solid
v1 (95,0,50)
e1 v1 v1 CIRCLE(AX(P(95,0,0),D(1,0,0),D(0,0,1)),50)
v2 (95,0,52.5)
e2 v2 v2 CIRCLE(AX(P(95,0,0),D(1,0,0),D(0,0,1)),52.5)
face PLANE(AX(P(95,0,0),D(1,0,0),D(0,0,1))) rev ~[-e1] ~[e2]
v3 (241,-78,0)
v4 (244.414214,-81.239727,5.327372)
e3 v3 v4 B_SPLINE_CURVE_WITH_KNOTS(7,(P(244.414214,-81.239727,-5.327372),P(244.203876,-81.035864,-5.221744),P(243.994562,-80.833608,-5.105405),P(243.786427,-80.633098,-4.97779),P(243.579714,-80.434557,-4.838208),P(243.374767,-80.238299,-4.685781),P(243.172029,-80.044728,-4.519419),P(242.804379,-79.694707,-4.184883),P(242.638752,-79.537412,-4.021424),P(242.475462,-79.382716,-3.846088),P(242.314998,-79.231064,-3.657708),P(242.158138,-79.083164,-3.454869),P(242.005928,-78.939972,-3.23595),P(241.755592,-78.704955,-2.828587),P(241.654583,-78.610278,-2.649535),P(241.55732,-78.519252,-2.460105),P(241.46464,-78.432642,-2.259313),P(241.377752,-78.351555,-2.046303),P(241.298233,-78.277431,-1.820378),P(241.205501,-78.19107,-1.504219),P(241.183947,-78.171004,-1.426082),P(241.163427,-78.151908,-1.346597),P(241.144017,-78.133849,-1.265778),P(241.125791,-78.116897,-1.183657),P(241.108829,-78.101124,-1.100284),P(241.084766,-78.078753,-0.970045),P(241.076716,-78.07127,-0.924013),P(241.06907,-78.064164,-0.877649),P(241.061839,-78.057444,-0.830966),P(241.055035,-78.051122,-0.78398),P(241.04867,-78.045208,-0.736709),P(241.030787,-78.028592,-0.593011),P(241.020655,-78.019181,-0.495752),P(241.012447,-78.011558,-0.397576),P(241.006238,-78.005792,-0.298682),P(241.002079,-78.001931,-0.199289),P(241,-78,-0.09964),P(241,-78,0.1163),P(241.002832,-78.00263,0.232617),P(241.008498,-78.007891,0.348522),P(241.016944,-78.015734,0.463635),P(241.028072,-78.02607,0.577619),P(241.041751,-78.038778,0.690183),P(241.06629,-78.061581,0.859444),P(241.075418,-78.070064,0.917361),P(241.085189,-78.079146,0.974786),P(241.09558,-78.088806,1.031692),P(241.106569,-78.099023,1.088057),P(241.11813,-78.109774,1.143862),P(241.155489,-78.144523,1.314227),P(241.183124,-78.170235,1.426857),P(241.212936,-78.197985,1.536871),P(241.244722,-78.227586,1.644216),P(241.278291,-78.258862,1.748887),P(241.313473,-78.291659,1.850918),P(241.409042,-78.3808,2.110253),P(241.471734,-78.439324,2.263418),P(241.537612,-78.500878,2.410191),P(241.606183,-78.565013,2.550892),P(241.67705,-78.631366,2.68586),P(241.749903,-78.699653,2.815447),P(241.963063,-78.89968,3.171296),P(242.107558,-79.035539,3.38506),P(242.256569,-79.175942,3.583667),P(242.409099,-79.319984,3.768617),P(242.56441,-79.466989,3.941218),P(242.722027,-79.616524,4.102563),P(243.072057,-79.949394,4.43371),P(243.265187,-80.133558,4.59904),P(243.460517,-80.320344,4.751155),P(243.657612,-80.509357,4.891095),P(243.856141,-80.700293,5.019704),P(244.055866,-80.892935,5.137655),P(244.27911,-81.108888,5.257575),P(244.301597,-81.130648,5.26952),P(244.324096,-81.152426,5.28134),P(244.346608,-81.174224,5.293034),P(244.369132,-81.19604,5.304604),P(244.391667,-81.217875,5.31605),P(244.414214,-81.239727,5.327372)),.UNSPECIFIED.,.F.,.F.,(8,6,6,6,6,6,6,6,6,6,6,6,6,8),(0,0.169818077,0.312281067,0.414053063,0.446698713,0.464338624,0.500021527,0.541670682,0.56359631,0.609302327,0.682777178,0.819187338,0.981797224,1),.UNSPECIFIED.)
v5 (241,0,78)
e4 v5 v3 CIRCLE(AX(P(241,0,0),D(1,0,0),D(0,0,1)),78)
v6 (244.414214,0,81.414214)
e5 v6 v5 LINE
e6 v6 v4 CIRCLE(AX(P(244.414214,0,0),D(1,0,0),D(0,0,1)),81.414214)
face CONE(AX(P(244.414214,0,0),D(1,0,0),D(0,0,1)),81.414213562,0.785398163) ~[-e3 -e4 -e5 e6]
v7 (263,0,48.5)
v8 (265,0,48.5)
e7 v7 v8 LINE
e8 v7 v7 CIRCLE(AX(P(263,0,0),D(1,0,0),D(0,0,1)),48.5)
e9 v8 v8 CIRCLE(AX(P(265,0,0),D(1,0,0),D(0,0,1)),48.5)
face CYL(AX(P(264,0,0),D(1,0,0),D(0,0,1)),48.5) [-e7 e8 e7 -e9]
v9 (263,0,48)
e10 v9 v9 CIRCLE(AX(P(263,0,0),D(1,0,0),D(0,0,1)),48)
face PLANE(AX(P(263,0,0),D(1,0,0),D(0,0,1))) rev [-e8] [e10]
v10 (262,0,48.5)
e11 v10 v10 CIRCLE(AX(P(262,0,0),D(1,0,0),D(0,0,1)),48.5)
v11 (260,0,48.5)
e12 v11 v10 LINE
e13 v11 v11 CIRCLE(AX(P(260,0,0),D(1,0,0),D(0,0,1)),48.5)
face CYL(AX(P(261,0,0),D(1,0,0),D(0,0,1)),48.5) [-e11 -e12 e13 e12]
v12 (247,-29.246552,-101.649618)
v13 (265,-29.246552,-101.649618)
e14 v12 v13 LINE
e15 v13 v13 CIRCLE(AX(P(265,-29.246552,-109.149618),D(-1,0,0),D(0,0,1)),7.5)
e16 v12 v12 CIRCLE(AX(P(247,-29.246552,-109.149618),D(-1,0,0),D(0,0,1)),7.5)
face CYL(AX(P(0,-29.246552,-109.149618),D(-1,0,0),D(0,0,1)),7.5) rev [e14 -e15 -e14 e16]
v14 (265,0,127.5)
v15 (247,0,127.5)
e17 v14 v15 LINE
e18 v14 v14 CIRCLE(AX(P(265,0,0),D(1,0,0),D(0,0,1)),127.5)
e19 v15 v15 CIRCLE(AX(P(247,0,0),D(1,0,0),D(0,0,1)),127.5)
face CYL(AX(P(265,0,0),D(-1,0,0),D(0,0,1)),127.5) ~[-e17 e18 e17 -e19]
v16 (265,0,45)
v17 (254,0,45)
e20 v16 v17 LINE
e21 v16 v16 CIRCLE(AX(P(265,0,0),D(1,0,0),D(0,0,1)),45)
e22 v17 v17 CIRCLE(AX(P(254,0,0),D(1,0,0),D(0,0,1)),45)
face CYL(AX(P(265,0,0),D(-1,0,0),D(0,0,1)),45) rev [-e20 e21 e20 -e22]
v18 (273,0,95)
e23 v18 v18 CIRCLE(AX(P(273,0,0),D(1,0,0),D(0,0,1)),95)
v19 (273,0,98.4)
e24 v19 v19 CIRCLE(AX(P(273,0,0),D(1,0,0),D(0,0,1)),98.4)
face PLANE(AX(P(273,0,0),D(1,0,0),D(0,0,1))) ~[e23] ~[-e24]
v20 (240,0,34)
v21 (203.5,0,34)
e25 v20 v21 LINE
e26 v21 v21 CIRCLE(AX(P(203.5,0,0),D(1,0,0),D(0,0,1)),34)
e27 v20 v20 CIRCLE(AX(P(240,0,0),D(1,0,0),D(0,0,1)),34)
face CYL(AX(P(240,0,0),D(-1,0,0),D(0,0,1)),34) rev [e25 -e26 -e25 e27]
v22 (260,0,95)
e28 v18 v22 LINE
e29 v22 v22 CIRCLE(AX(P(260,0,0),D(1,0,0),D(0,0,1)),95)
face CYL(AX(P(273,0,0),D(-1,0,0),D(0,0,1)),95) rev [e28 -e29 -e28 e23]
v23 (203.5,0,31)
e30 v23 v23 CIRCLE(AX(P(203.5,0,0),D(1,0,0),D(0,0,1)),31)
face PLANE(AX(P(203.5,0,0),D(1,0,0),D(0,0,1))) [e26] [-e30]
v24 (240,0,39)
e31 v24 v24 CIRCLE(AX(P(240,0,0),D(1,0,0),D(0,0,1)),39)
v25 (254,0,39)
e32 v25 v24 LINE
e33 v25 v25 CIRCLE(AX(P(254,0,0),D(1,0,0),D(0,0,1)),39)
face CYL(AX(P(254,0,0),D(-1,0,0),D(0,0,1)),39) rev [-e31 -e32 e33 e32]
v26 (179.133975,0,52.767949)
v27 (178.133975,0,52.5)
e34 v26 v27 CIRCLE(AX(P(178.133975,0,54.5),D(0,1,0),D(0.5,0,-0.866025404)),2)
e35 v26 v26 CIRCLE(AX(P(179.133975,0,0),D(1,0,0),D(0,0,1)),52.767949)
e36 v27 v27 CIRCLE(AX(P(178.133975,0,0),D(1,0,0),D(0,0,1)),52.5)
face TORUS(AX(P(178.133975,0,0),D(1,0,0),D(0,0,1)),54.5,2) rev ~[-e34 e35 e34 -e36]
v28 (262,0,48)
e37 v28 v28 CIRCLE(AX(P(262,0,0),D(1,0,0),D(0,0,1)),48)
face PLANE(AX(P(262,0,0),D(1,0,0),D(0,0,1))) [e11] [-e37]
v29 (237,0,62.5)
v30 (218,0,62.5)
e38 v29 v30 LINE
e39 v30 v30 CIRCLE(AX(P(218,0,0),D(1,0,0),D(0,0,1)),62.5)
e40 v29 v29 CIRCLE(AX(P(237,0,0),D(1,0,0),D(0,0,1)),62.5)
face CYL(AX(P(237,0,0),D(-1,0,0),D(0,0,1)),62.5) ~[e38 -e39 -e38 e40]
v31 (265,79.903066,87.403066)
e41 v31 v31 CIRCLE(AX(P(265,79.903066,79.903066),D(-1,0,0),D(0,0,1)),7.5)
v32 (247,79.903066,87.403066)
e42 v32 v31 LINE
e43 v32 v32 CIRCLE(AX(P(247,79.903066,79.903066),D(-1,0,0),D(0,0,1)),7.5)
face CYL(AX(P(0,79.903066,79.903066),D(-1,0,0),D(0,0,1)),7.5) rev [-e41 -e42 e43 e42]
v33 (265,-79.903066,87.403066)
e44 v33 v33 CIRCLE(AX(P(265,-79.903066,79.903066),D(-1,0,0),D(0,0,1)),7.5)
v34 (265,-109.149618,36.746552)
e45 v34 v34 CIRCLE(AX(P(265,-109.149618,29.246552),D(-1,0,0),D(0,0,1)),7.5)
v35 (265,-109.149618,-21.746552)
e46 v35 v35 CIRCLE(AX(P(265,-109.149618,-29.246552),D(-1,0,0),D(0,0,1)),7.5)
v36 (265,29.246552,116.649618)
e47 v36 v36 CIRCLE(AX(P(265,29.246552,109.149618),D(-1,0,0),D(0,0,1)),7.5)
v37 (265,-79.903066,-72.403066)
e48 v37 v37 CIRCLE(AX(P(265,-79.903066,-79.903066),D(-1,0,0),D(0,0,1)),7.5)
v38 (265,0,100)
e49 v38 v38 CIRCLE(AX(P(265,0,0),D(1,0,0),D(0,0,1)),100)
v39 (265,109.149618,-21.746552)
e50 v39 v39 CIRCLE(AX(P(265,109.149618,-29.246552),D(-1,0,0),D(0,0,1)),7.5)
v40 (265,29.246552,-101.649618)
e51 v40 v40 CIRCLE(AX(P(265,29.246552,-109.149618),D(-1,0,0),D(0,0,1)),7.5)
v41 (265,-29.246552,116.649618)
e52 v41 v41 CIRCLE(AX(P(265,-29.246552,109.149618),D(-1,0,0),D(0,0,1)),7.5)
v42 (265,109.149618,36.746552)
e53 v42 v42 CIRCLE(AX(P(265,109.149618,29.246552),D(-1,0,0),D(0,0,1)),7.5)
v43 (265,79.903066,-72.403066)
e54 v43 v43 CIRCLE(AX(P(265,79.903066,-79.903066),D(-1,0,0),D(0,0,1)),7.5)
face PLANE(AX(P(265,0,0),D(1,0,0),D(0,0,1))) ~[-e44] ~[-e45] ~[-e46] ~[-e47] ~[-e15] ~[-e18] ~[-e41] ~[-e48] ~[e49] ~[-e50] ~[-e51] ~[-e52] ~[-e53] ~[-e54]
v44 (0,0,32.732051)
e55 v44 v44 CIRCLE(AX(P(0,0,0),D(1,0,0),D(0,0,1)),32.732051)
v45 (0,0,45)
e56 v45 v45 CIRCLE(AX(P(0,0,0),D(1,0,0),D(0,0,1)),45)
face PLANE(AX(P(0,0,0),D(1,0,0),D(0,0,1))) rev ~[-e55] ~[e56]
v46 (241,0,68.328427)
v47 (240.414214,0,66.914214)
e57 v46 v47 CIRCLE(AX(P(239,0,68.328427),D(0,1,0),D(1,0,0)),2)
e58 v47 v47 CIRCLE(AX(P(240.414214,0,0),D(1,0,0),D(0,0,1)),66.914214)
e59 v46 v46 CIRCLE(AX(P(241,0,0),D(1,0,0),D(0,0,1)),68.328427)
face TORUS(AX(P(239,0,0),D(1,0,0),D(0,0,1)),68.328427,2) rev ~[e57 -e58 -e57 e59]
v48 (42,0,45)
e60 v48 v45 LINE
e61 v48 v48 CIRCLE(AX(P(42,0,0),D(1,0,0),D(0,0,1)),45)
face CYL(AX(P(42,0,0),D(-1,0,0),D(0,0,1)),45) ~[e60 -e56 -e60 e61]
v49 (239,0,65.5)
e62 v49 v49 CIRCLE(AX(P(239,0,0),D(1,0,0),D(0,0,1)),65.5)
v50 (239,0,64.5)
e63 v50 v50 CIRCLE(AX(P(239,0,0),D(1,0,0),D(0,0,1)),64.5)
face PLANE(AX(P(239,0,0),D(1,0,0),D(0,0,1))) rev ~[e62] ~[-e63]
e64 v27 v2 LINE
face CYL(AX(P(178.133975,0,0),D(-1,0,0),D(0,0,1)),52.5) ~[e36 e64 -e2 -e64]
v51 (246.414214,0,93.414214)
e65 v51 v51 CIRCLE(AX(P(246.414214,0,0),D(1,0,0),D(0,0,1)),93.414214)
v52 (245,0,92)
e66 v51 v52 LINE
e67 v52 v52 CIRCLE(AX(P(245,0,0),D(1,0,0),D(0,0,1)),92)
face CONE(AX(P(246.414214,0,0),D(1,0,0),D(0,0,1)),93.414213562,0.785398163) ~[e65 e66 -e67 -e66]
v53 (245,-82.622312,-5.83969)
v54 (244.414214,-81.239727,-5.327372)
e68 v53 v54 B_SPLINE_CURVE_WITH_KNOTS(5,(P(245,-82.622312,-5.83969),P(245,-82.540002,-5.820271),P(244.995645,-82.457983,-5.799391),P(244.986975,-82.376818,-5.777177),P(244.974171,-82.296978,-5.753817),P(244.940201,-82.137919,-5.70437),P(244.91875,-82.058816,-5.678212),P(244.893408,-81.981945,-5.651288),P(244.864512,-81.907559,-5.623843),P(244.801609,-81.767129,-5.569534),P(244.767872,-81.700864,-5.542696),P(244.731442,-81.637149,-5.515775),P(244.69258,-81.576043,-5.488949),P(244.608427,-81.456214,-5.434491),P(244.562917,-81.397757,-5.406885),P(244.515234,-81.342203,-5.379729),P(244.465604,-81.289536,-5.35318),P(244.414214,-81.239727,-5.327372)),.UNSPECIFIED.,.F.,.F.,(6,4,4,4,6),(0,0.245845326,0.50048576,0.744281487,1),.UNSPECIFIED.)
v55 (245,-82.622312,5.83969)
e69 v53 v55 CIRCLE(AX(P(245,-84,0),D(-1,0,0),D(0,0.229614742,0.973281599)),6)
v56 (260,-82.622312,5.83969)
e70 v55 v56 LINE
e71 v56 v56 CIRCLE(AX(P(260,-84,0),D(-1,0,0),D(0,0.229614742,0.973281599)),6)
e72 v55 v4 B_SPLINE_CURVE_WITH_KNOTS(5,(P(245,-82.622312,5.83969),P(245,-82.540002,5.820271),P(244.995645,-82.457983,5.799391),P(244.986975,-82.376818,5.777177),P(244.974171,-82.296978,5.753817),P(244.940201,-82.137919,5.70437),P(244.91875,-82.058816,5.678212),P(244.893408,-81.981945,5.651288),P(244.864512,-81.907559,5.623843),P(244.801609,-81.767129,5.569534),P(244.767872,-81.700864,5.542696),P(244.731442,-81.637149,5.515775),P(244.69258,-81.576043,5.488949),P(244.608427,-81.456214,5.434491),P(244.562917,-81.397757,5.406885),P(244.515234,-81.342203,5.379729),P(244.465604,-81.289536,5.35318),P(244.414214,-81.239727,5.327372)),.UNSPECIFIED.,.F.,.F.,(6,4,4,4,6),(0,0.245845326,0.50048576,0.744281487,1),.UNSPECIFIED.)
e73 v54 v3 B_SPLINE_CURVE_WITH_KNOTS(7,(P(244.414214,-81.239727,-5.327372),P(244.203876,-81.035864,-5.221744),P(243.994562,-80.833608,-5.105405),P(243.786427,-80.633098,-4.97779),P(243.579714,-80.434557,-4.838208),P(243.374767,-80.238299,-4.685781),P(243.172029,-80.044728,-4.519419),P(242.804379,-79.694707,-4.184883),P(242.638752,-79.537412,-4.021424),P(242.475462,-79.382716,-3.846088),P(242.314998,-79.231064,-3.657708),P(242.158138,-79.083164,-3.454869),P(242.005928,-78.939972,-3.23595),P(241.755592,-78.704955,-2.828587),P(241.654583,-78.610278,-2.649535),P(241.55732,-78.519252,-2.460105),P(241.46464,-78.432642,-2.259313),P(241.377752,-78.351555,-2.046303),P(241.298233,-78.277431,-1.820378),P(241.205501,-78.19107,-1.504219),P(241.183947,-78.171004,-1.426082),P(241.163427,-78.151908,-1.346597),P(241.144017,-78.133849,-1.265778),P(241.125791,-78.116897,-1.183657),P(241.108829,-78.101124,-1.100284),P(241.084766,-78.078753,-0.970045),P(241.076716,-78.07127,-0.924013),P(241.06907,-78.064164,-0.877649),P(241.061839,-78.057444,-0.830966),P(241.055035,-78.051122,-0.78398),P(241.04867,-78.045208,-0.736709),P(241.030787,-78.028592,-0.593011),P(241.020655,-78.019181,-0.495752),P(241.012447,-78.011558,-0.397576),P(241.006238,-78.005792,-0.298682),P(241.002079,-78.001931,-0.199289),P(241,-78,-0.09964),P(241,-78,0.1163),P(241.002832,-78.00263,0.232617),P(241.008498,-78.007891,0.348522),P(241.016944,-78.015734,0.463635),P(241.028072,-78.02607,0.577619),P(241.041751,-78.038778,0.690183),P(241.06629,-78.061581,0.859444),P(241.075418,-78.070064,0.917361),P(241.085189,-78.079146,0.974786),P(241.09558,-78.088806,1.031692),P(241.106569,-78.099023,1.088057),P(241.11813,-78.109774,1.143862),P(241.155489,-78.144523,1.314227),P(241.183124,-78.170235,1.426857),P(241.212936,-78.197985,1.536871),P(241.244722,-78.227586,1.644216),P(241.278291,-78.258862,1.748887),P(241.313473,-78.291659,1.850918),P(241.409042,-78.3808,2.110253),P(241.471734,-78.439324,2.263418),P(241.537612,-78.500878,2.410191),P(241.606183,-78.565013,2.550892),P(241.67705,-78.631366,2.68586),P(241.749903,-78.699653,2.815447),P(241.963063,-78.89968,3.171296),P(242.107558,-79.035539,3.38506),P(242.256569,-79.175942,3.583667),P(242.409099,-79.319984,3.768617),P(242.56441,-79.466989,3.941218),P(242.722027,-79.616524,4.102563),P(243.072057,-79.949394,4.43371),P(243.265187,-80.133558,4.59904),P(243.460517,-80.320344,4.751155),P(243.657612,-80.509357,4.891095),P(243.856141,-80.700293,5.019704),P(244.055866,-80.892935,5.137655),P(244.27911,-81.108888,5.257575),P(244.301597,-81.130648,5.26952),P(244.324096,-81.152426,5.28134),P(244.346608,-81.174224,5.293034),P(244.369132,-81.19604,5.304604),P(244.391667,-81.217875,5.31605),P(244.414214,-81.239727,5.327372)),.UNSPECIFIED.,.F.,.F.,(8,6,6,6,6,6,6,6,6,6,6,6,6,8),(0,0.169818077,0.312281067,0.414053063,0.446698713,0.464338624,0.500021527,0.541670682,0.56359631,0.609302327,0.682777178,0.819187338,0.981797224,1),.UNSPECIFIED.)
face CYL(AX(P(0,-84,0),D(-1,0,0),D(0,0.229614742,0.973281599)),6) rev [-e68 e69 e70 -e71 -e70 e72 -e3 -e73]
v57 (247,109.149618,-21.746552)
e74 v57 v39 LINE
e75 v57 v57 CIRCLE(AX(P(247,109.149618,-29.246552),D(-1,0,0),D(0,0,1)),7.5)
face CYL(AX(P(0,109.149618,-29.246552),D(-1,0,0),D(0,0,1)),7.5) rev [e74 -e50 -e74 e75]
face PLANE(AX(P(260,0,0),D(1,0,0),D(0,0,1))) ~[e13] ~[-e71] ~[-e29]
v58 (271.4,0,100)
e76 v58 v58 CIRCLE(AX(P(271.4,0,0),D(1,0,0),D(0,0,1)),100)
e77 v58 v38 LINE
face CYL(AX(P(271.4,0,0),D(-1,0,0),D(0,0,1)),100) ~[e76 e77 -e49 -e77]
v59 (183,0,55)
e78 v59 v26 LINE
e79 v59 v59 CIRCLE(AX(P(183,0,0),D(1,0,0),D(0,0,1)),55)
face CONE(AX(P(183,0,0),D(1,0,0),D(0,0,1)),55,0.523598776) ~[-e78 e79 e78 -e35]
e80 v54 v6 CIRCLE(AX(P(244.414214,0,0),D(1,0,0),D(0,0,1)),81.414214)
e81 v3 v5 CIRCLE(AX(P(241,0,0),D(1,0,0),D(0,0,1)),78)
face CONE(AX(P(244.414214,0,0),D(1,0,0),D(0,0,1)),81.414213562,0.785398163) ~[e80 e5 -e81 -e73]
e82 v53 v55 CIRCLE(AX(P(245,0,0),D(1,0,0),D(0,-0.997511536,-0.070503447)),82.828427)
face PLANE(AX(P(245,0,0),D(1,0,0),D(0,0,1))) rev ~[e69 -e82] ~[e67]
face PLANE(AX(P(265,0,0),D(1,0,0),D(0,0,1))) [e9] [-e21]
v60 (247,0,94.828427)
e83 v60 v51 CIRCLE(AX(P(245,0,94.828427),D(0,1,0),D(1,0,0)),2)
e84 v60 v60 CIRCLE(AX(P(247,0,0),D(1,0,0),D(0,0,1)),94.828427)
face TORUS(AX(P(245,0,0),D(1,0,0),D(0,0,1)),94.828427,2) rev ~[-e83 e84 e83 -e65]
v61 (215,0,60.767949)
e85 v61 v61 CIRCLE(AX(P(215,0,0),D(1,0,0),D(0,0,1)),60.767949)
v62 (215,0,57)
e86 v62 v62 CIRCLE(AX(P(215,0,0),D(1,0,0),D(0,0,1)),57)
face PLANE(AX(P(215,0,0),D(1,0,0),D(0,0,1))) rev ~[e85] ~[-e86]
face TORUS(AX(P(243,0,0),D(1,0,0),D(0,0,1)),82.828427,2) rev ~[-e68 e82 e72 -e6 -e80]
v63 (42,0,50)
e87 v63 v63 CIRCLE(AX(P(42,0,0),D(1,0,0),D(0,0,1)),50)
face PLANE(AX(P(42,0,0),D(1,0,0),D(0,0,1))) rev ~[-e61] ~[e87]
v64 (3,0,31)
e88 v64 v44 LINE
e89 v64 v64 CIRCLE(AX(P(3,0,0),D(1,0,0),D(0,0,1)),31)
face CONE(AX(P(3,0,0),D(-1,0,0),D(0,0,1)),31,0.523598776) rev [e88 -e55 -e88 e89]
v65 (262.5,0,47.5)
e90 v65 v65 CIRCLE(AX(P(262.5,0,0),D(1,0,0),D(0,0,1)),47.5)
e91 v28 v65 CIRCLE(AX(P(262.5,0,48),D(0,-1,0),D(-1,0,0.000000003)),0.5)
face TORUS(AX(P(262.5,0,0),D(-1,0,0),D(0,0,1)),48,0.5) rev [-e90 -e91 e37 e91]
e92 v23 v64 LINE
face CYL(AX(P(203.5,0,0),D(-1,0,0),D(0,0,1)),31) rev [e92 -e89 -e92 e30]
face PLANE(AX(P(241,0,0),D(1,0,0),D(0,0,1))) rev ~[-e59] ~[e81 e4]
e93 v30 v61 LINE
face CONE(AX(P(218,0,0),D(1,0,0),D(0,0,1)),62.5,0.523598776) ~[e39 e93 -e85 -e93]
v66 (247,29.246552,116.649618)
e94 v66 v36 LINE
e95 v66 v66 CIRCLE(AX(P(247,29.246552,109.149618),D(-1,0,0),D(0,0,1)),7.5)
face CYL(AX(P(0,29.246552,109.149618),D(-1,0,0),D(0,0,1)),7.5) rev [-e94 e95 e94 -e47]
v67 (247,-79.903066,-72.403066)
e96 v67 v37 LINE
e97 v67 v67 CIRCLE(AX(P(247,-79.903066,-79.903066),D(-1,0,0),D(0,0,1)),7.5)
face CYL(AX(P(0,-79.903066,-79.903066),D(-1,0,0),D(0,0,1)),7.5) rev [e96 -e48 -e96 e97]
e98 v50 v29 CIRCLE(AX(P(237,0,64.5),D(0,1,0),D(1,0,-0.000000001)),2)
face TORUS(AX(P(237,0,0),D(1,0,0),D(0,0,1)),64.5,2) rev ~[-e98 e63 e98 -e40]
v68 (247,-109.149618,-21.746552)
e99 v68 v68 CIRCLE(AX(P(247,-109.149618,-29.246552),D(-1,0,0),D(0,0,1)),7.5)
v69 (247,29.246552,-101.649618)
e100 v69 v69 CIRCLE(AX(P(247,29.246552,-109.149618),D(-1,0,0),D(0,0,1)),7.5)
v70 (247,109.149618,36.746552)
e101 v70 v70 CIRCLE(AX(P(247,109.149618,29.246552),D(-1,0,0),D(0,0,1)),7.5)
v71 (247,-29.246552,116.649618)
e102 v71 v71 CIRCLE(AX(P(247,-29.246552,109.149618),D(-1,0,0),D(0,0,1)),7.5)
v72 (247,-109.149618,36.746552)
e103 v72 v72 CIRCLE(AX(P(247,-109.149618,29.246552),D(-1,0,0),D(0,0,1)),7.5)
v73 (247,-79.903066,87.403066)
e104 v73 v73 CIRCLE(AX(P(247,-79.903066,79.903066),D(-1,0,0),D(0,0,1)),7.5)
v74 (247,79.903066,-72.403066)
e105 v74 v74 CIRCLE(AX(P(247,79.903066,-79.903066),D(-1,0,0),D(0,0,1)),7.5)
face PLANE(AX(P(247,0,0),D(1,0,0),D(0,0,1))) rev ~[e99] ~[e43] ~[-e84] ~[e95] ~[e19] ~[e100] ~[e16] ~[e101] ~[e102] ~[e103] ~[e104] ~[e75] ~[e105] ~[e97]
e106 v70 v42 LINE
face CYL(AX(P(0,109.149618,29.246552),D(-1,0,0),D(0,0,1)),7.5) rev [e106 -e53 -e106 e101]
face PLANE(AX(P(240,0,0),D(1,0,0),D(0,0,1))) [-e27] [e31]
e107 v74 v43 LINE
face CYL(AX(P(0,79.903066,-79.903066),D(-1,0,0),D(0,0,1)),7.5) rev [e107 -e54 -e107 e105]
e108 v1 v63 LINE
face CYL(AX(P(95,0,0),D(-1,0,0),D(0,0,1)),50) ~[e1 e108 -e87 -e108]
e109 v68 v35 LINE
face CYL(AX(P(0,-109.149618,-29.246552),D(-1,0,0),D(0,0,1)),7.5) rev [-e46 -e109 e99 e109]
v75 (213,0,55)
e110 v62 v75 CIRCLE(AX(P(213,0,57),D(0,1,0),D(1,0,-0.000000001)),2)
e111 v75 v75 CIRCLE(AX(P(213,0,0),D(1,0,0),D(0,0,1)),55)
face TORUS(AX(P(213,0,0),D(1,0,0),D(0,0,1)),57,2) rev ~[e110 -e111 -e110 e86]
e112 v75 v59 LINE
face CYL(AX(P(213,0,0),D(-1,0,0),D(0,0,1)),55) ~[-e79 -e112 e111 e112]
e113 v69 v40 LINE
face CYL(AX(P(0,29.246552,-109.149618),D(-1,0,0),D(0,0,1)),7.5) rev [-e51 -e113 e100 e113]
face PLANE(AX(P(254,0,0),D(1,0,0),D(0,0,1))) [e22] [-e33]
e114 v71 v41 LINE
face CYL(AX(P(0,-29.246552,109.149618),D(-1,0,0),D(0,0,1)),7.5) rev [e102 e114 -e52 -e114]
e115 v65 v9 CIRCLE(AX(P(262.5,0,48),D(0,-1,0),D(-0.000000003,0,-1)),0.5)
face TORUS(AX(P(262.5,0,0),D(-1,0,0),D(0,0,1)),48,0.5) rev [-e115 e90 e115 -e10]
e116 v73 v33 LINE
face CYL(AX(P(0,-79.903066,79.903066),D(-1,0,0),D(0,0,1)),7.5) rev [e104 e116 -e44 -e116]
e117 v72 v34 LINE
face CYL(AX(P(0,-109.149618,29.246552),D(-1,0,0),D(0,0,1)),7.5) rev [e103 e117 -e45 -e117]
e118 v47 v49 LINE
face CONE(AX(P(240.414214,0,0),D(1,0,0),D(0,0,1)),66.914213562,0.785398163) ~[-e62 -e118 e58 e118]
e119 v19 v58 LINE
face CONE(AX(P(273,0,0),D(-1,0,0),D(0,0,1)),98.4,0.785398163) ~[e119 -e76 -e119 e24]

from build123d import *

# Parameters (mm, degrees)
SKETCH_3_W           = 2
SKETCH_3_H           = 46.5
SKETCH_5_W           = 2
SKETCH_5_H           = 46.5
SKETCH_6_R           = 7.5
CUT_EXTRUDE_1_DEPTH  = 328.171973127
SKETCH_7_R           = 7.5
CUT_EXTRUDE_2_DEPTH  = 328.171973127
SKETCH_8_R           = 7.5
CUT_EXTRUDE_3_DEPTH  = 328.171973127
SKETCH_9_R           = 7.5
CUT_EXTRUDE_4_DEPTH  = 328.171973127
SKETCH_10_R          = 7.5
CUT_EXTRUDE_5_DEPTH  = 328.171973127
SKETCH_11_R          = 7.5
CUT_EXTRUDE_6_DEPTH  = 328.171973127
SKETCH_12_R          = 7.5
CUT_EXTRUDE_7_DEPTH  = 328.171973127
SKETCH_13_R          = 7.5
CUT_EXTRUDE_8_DEPTH  = 328.171973127
SKETCH_14_R          = 7.5
CUT_EXTRUDE_9_DEPTH  = 328.171973127
SKETCH_15_R          = 7.5
CUT_EXTRUDE_10_DEPTH = 328.171973127
SKETCH_16_R          = 7.5
CUT_EXTRUDE_11_DEPTH = 328.171973127
SKETCH_17_R          = 7.5
CUT_EXTRUDE_12_DEPTH = 328.171973127
SKETCH_18_R          = 6
CUT_EXTRUDE_13_DEPTH = 328.171973127


with BuildPart() as part:
    # Эскиз1 → Повернуть1 (revolve)
    with BuildSketch(Plane.XY, mode=Mode.PRIVATE) as revolve_1_sk:
        with BuildLine():
            Line((0, 0), (273, 0))
            Line((273, 0), (273, 98.4))
            Line((273, 98.4), (271.4, 100))
            Line((271.4, 100), (265, 100))
            Line((265, 100), (265, 127.5))
            Line((265, 127.5), (247, 127.5))
            Line((247, 127.5), (247, 94.828427125))
            ThreePointArc((247, 94.828427125), (246.847759065, 94.06306026), (246.414213562, 93.414213562))
            Line((246.414213562, 93.414213562), (245, 92))
            Line((245, 92), (245, 82.828427125))
            ThreePointArc((245, 82.828427125), (244.847759065, 82.06306026), (244.414213562, 81.414213562))
            Line((244.414213562, 81.414213562), (241, 78))
            Line((241, 78), (241, 68.328427125))
            ThreePointArc((241, 68.328427125), (240.847759065, 67.56306026), (240.414213562, 66.914213562))
            Line((240.414213562, 66.914213562), (239, 65.5))
            Line((239, 65.5), (239, 64.5))
            ThreePointArc((239, 64.5), (238.414213562, 63.085786438), (237, 62.5))
            Line((237, 62.5), (218, 62.5))
            Line((218, 62.5), (215, 60.767949192))
            Line((215, 60.767949192), (215, 57))
            ThreePointArc((215, 57), (214.414213562, 55.585786438), (213, 55))
            Line((213, 55), (183, 55))
            Line((183, 55), (179.133974596, 52.767949192))
            ThreePointArc((179.133974596, 52.767949192), (178.651612686, 52.568148347), (178.133974596, 52.5))
            Line((178.133974596, 52.5), (95, 52.5))
            Line((95, 52.5), (95, 50))
            Line((95, 50), (42, 50))
            Line((42, 50), (42, 45))
            Line((42, 45), (0, 45))
            Line((0, 45), (0, 0))
        make_face()
    revolve(revolve_1_sk.sketch.rotate(Axis((0, 0, 0), (1, 0, 0)), 90), axis=Axis((0, 0, 0), (1, 0, 0)))

    # Эскиз2 → Вырез-Повернуть1 (revolve, cut)
    with BuildSketch(Plane.XY, mode=Mode.PRIVATE) as cut_revolve_1_sk:
        Polygon((0, 0), (273, 0), (273, 95), (265, 95), (265, 45), (254, 45), (254, 39), (240, 39), (240, 34), (203.5, 34), (203.5, 31), (3, 31), (0, 32.732050808), align=None)
    revolve(cut_revolve_1_sk.sketch.rotate(Axis((0, 0, 0), (1, 0, 0)), 90), axis=Axis((0, 0, 0), (1, 0, 0)), mode=Mode.SUBTRACT)

    # Эскиз3 → Rear_recess_left (revolve, cut)
    with BuildSketch(Plane.XY, mode=Mode.PRIVATE) as rear_recess_left_sk:
        with Locations((261, 71.75)):
            Rectangle(SKETCH_3_W, SKETCH_3_H)
    revolve(rear_recess_left_sk.sketch.rotate(Axis((0, 0, 0), (1, 0, 0)), 90), axis=Axis((0, 0, 0), (1, 0, 0)), mode=Mode.SUBTRACT)

    # Эскиз4 → Collar_groove_nominal (revolve, cut)
    with BuildSketch(Plane.XY, mode=Mode.PRIVATE) as collar_groove_nominal_sk:
        with BuildLine():
            Line((263, 48), (263, 95))
            Line((263, 95), (262, 95))
            Line((262, 95), (262, 48))
            ThreePointArc((262, 48), (262.146446609, 47.646446609), (262.5, 47.5))
            ThreePointArc((262.5, 47.5), (262.853553391, 47.646446609), (263, 48))
        make_face()
    revolve(collar_groove_nominal_sk.sketch.rotate(Axis((0, 0, 0), (1, 0, 0)), 90), axis=Axis((0, 0, 0), (1, 0, 0)), mode=Mode.SUBTRACT)

    # Эскиз5 → Rear_recess_lip (revolve, cut)
    with BuildSketch(Plane.XY, mode=Mode.PRIVATE) as rear_recess_lip_sk:
        with Locations((264, 71.75)):
            Rectangle(SKETCH_5_W, SKETCH_5_H)
    revolve(rear_recess_lip_sk.sketch.rotate(Axis((0, 0, 0), (1, 0, 0)), 90), axis=Axis((0, 0, 0), (1, 0, 0)), mode=Mode.SUBTRACT)

    # Эскиз6 → Вырез-Вытянуть1 (cut, through all)
    with BuildSketch(Plane(origin=(0, 0, 0), x_dir=(0, 0, -1), z_dir=(1, 0, 0))):
        with Locations(Location((109.149618371, 29.246552097, 0), (0, 0, 180))):
            Circle(SKETCH_6_R)
    extrude(amount=CUT_EXTRUDE_1_DEPTH, mode=Mode.SUBTRACT)

    # Эскиз7 → Вырез-Вытянуть2 (cut, through all)
    with BuildSketch(Plane(origin=(0, 0, 0), x_dir=(0, 0, -1), z_dir=(1, 0, 0))):
        with Locations(Location((79.903066274, 79.903066274, 0), (0, 0, 180))):
            Circle(SKETCH_7_R)
    extrude(amount=CUT_EXTRUDE_2_DEPTH, mode=Mode.SUBTRACT)

    # Эскиз8 → Вырез-Вытянуть3 (cut, through all)
    with BuildSketch(Plane(origin=(0, 0, 0), x_dir=(0, 0, -1), z_dir=(1, 0, 0))):
        with Locations(Location((29.246552097, 109.149618371, 0), (0, 0, 180))):
            Circle(SKETCH_8_R)
    extrude(amount=CUT_EXTRUDE_3_DEPTH, mode=Mode.SUBTRACT)

    # Эскиз9 → Вырез-Вытянуть4 (cut, through all)
    with BuildSketch(Plane(origin=(0, 0, 0), x_dir=(0, 0, -1), z_dir=(1, 0, 0))):
        with Locations(Location((-29.246552097, 109.149618371, 0), (0, 0, 180))):
            Circle(SKETCH_9_R)
    extrude(amount=CUT_EXTRUDE_4_DEPTH, mode=Mode.SUBTRACT)

    # Эскиз10 → Вырез-Вытянуть5 (cut, through all)
    with BuildSketch(Plane(origin=(0, 0, 0), x_dir=(0, 0, -1), z_dir=(1, 0, 0))):
        with Locations(Location((-79.903066274, 79.903066274, 0), (0, 0, 180))):
            Circle(SKETCH_10_R)
    extrude(amount=CUT_EXTRUDE_5_DEPTH, mode=Mode.SUBTRACT)

    # Эскиз11 → Вырез-Вытянуть6 (cut, through all)
    with BuildSketch(Plane(origin=(0, 0, 0), x_dir=(0, 0, -1), z_dir=(1, 0, 0))):
        with Locations(Location((-109.149618371, 29.246552097, 0), (0, 0, 180))):
            Circle(SKETCH_11_R)
    extrude(amount=CUT_EXTRUDE_6_DEPTH, mode=Mode.SUBTRACT)

    # Эскиз12 → Вырез-Вытянуть7 (cut, through all)
    with BuildSketch(Plane(origin=(0, 0, 0), x_dir=(0, 0, -1), z_dir=(1, 0, 0))):
        with Locations(Location((-109.149618371, -29.246552097, 0), (0, 0, 180))):
            Circle(SKETCH_12_R)
    extrude(amount=CUT_EXTRUDE_7_DEPTH, mode=Mode.SUBTRACT)

    # Эскиз13 → Вырез-Вытянуть8 (cut, through all)
    with BuildSketch(Plane(origin=(0, 0, 0), x_dir=(0, 0, -1), z_dir=(1, 0, 0))):
        with Locations(Location((-79.903066274, -79.903066274, 0), (0, 0, 180))):
            Circle(SKETCH_13_R)
    extrude(amount=CUT_EXTRUDE_8_DEPTH, mode=Mode.SUBTRACT)

    # Эскиз14 → Вырез-Вытянуть9 (cut, through all)
    with BuildSketch(Plane(origin=(0, 0, 0), x_dir=(0, 0, -1), z_dir=(1, 0, 0))):
        with Locations(Location((-29.246552097, -109.149618371, 0), (0, 0, 180))):
            Circle(SKETCH_14_R)
    extrude(amount=CUT_EXTRUDE_9_DEPTH, mode=Mode.SUBTRACT)

    # Эскиз15 → Вырез-Вытянуть10 (cut, through all)
    with BuildSketch(Plane(origin=(0, 0, 0), x_dir=(0, 0, -1), z_dir=(1, 0, 0))):
        with Locations(Location((29.246552097, -109.149618371, 0), (0, 0, 180))):
            Circle(SKETCH_15_R)
    extrude(amount=CUT_EXTRUDE_10_DEPTH, mode=Mode.SUBTRACT)

    # Эскиз16 → Вырез-Вытянуть11 (cut, through all)
    with BuildSketch(Plane(origin=(0, 0, 0), x_dir=(0, 0, -1), z_dir=(1, 0, 0))):
        with Locations(Location((79.903066274, -79.903066274, 0), (0, 0, 180))):
            Circle(SKETCH_16_R)
    extrude(amount=CUT_EXTRUDE_11_DEPTH, mode=Mode.SUBTRACT)

    # Эскиз17 → Вырез-Вытянуть12 (cut, through all)
    with BuildSketch(Plane(origin=(0, 0, 0), x_dir=(0, 0, -1), z_dir=(1, 0, 0))):
        with Locations(Location((109.149618371, -29.246552097, 0), (0, 0, 180))):
            Circle(SKETCH_17_R)
    extrude(amount=CUT_EXTRUDE_12_DEPTH, mode=Mode.SUBTRACT)

    # Эскиз18 → Вырез-Вытянуть13 (cut, through all)
    with BuildSketch(Plane(origin=(0, 0, 0), x_dir=(0, 0, -1), z_dir=(1, 0, 0))):
        with Locations(Location((0, -84, 0), (0, 0, 166.725608927))):
            Circle(SKETCH_18_R)
    extrude(amount=CUT_EXTRUDE_13_DEPTH, mode=Mode.SUBTRACT)


solid = part.part
